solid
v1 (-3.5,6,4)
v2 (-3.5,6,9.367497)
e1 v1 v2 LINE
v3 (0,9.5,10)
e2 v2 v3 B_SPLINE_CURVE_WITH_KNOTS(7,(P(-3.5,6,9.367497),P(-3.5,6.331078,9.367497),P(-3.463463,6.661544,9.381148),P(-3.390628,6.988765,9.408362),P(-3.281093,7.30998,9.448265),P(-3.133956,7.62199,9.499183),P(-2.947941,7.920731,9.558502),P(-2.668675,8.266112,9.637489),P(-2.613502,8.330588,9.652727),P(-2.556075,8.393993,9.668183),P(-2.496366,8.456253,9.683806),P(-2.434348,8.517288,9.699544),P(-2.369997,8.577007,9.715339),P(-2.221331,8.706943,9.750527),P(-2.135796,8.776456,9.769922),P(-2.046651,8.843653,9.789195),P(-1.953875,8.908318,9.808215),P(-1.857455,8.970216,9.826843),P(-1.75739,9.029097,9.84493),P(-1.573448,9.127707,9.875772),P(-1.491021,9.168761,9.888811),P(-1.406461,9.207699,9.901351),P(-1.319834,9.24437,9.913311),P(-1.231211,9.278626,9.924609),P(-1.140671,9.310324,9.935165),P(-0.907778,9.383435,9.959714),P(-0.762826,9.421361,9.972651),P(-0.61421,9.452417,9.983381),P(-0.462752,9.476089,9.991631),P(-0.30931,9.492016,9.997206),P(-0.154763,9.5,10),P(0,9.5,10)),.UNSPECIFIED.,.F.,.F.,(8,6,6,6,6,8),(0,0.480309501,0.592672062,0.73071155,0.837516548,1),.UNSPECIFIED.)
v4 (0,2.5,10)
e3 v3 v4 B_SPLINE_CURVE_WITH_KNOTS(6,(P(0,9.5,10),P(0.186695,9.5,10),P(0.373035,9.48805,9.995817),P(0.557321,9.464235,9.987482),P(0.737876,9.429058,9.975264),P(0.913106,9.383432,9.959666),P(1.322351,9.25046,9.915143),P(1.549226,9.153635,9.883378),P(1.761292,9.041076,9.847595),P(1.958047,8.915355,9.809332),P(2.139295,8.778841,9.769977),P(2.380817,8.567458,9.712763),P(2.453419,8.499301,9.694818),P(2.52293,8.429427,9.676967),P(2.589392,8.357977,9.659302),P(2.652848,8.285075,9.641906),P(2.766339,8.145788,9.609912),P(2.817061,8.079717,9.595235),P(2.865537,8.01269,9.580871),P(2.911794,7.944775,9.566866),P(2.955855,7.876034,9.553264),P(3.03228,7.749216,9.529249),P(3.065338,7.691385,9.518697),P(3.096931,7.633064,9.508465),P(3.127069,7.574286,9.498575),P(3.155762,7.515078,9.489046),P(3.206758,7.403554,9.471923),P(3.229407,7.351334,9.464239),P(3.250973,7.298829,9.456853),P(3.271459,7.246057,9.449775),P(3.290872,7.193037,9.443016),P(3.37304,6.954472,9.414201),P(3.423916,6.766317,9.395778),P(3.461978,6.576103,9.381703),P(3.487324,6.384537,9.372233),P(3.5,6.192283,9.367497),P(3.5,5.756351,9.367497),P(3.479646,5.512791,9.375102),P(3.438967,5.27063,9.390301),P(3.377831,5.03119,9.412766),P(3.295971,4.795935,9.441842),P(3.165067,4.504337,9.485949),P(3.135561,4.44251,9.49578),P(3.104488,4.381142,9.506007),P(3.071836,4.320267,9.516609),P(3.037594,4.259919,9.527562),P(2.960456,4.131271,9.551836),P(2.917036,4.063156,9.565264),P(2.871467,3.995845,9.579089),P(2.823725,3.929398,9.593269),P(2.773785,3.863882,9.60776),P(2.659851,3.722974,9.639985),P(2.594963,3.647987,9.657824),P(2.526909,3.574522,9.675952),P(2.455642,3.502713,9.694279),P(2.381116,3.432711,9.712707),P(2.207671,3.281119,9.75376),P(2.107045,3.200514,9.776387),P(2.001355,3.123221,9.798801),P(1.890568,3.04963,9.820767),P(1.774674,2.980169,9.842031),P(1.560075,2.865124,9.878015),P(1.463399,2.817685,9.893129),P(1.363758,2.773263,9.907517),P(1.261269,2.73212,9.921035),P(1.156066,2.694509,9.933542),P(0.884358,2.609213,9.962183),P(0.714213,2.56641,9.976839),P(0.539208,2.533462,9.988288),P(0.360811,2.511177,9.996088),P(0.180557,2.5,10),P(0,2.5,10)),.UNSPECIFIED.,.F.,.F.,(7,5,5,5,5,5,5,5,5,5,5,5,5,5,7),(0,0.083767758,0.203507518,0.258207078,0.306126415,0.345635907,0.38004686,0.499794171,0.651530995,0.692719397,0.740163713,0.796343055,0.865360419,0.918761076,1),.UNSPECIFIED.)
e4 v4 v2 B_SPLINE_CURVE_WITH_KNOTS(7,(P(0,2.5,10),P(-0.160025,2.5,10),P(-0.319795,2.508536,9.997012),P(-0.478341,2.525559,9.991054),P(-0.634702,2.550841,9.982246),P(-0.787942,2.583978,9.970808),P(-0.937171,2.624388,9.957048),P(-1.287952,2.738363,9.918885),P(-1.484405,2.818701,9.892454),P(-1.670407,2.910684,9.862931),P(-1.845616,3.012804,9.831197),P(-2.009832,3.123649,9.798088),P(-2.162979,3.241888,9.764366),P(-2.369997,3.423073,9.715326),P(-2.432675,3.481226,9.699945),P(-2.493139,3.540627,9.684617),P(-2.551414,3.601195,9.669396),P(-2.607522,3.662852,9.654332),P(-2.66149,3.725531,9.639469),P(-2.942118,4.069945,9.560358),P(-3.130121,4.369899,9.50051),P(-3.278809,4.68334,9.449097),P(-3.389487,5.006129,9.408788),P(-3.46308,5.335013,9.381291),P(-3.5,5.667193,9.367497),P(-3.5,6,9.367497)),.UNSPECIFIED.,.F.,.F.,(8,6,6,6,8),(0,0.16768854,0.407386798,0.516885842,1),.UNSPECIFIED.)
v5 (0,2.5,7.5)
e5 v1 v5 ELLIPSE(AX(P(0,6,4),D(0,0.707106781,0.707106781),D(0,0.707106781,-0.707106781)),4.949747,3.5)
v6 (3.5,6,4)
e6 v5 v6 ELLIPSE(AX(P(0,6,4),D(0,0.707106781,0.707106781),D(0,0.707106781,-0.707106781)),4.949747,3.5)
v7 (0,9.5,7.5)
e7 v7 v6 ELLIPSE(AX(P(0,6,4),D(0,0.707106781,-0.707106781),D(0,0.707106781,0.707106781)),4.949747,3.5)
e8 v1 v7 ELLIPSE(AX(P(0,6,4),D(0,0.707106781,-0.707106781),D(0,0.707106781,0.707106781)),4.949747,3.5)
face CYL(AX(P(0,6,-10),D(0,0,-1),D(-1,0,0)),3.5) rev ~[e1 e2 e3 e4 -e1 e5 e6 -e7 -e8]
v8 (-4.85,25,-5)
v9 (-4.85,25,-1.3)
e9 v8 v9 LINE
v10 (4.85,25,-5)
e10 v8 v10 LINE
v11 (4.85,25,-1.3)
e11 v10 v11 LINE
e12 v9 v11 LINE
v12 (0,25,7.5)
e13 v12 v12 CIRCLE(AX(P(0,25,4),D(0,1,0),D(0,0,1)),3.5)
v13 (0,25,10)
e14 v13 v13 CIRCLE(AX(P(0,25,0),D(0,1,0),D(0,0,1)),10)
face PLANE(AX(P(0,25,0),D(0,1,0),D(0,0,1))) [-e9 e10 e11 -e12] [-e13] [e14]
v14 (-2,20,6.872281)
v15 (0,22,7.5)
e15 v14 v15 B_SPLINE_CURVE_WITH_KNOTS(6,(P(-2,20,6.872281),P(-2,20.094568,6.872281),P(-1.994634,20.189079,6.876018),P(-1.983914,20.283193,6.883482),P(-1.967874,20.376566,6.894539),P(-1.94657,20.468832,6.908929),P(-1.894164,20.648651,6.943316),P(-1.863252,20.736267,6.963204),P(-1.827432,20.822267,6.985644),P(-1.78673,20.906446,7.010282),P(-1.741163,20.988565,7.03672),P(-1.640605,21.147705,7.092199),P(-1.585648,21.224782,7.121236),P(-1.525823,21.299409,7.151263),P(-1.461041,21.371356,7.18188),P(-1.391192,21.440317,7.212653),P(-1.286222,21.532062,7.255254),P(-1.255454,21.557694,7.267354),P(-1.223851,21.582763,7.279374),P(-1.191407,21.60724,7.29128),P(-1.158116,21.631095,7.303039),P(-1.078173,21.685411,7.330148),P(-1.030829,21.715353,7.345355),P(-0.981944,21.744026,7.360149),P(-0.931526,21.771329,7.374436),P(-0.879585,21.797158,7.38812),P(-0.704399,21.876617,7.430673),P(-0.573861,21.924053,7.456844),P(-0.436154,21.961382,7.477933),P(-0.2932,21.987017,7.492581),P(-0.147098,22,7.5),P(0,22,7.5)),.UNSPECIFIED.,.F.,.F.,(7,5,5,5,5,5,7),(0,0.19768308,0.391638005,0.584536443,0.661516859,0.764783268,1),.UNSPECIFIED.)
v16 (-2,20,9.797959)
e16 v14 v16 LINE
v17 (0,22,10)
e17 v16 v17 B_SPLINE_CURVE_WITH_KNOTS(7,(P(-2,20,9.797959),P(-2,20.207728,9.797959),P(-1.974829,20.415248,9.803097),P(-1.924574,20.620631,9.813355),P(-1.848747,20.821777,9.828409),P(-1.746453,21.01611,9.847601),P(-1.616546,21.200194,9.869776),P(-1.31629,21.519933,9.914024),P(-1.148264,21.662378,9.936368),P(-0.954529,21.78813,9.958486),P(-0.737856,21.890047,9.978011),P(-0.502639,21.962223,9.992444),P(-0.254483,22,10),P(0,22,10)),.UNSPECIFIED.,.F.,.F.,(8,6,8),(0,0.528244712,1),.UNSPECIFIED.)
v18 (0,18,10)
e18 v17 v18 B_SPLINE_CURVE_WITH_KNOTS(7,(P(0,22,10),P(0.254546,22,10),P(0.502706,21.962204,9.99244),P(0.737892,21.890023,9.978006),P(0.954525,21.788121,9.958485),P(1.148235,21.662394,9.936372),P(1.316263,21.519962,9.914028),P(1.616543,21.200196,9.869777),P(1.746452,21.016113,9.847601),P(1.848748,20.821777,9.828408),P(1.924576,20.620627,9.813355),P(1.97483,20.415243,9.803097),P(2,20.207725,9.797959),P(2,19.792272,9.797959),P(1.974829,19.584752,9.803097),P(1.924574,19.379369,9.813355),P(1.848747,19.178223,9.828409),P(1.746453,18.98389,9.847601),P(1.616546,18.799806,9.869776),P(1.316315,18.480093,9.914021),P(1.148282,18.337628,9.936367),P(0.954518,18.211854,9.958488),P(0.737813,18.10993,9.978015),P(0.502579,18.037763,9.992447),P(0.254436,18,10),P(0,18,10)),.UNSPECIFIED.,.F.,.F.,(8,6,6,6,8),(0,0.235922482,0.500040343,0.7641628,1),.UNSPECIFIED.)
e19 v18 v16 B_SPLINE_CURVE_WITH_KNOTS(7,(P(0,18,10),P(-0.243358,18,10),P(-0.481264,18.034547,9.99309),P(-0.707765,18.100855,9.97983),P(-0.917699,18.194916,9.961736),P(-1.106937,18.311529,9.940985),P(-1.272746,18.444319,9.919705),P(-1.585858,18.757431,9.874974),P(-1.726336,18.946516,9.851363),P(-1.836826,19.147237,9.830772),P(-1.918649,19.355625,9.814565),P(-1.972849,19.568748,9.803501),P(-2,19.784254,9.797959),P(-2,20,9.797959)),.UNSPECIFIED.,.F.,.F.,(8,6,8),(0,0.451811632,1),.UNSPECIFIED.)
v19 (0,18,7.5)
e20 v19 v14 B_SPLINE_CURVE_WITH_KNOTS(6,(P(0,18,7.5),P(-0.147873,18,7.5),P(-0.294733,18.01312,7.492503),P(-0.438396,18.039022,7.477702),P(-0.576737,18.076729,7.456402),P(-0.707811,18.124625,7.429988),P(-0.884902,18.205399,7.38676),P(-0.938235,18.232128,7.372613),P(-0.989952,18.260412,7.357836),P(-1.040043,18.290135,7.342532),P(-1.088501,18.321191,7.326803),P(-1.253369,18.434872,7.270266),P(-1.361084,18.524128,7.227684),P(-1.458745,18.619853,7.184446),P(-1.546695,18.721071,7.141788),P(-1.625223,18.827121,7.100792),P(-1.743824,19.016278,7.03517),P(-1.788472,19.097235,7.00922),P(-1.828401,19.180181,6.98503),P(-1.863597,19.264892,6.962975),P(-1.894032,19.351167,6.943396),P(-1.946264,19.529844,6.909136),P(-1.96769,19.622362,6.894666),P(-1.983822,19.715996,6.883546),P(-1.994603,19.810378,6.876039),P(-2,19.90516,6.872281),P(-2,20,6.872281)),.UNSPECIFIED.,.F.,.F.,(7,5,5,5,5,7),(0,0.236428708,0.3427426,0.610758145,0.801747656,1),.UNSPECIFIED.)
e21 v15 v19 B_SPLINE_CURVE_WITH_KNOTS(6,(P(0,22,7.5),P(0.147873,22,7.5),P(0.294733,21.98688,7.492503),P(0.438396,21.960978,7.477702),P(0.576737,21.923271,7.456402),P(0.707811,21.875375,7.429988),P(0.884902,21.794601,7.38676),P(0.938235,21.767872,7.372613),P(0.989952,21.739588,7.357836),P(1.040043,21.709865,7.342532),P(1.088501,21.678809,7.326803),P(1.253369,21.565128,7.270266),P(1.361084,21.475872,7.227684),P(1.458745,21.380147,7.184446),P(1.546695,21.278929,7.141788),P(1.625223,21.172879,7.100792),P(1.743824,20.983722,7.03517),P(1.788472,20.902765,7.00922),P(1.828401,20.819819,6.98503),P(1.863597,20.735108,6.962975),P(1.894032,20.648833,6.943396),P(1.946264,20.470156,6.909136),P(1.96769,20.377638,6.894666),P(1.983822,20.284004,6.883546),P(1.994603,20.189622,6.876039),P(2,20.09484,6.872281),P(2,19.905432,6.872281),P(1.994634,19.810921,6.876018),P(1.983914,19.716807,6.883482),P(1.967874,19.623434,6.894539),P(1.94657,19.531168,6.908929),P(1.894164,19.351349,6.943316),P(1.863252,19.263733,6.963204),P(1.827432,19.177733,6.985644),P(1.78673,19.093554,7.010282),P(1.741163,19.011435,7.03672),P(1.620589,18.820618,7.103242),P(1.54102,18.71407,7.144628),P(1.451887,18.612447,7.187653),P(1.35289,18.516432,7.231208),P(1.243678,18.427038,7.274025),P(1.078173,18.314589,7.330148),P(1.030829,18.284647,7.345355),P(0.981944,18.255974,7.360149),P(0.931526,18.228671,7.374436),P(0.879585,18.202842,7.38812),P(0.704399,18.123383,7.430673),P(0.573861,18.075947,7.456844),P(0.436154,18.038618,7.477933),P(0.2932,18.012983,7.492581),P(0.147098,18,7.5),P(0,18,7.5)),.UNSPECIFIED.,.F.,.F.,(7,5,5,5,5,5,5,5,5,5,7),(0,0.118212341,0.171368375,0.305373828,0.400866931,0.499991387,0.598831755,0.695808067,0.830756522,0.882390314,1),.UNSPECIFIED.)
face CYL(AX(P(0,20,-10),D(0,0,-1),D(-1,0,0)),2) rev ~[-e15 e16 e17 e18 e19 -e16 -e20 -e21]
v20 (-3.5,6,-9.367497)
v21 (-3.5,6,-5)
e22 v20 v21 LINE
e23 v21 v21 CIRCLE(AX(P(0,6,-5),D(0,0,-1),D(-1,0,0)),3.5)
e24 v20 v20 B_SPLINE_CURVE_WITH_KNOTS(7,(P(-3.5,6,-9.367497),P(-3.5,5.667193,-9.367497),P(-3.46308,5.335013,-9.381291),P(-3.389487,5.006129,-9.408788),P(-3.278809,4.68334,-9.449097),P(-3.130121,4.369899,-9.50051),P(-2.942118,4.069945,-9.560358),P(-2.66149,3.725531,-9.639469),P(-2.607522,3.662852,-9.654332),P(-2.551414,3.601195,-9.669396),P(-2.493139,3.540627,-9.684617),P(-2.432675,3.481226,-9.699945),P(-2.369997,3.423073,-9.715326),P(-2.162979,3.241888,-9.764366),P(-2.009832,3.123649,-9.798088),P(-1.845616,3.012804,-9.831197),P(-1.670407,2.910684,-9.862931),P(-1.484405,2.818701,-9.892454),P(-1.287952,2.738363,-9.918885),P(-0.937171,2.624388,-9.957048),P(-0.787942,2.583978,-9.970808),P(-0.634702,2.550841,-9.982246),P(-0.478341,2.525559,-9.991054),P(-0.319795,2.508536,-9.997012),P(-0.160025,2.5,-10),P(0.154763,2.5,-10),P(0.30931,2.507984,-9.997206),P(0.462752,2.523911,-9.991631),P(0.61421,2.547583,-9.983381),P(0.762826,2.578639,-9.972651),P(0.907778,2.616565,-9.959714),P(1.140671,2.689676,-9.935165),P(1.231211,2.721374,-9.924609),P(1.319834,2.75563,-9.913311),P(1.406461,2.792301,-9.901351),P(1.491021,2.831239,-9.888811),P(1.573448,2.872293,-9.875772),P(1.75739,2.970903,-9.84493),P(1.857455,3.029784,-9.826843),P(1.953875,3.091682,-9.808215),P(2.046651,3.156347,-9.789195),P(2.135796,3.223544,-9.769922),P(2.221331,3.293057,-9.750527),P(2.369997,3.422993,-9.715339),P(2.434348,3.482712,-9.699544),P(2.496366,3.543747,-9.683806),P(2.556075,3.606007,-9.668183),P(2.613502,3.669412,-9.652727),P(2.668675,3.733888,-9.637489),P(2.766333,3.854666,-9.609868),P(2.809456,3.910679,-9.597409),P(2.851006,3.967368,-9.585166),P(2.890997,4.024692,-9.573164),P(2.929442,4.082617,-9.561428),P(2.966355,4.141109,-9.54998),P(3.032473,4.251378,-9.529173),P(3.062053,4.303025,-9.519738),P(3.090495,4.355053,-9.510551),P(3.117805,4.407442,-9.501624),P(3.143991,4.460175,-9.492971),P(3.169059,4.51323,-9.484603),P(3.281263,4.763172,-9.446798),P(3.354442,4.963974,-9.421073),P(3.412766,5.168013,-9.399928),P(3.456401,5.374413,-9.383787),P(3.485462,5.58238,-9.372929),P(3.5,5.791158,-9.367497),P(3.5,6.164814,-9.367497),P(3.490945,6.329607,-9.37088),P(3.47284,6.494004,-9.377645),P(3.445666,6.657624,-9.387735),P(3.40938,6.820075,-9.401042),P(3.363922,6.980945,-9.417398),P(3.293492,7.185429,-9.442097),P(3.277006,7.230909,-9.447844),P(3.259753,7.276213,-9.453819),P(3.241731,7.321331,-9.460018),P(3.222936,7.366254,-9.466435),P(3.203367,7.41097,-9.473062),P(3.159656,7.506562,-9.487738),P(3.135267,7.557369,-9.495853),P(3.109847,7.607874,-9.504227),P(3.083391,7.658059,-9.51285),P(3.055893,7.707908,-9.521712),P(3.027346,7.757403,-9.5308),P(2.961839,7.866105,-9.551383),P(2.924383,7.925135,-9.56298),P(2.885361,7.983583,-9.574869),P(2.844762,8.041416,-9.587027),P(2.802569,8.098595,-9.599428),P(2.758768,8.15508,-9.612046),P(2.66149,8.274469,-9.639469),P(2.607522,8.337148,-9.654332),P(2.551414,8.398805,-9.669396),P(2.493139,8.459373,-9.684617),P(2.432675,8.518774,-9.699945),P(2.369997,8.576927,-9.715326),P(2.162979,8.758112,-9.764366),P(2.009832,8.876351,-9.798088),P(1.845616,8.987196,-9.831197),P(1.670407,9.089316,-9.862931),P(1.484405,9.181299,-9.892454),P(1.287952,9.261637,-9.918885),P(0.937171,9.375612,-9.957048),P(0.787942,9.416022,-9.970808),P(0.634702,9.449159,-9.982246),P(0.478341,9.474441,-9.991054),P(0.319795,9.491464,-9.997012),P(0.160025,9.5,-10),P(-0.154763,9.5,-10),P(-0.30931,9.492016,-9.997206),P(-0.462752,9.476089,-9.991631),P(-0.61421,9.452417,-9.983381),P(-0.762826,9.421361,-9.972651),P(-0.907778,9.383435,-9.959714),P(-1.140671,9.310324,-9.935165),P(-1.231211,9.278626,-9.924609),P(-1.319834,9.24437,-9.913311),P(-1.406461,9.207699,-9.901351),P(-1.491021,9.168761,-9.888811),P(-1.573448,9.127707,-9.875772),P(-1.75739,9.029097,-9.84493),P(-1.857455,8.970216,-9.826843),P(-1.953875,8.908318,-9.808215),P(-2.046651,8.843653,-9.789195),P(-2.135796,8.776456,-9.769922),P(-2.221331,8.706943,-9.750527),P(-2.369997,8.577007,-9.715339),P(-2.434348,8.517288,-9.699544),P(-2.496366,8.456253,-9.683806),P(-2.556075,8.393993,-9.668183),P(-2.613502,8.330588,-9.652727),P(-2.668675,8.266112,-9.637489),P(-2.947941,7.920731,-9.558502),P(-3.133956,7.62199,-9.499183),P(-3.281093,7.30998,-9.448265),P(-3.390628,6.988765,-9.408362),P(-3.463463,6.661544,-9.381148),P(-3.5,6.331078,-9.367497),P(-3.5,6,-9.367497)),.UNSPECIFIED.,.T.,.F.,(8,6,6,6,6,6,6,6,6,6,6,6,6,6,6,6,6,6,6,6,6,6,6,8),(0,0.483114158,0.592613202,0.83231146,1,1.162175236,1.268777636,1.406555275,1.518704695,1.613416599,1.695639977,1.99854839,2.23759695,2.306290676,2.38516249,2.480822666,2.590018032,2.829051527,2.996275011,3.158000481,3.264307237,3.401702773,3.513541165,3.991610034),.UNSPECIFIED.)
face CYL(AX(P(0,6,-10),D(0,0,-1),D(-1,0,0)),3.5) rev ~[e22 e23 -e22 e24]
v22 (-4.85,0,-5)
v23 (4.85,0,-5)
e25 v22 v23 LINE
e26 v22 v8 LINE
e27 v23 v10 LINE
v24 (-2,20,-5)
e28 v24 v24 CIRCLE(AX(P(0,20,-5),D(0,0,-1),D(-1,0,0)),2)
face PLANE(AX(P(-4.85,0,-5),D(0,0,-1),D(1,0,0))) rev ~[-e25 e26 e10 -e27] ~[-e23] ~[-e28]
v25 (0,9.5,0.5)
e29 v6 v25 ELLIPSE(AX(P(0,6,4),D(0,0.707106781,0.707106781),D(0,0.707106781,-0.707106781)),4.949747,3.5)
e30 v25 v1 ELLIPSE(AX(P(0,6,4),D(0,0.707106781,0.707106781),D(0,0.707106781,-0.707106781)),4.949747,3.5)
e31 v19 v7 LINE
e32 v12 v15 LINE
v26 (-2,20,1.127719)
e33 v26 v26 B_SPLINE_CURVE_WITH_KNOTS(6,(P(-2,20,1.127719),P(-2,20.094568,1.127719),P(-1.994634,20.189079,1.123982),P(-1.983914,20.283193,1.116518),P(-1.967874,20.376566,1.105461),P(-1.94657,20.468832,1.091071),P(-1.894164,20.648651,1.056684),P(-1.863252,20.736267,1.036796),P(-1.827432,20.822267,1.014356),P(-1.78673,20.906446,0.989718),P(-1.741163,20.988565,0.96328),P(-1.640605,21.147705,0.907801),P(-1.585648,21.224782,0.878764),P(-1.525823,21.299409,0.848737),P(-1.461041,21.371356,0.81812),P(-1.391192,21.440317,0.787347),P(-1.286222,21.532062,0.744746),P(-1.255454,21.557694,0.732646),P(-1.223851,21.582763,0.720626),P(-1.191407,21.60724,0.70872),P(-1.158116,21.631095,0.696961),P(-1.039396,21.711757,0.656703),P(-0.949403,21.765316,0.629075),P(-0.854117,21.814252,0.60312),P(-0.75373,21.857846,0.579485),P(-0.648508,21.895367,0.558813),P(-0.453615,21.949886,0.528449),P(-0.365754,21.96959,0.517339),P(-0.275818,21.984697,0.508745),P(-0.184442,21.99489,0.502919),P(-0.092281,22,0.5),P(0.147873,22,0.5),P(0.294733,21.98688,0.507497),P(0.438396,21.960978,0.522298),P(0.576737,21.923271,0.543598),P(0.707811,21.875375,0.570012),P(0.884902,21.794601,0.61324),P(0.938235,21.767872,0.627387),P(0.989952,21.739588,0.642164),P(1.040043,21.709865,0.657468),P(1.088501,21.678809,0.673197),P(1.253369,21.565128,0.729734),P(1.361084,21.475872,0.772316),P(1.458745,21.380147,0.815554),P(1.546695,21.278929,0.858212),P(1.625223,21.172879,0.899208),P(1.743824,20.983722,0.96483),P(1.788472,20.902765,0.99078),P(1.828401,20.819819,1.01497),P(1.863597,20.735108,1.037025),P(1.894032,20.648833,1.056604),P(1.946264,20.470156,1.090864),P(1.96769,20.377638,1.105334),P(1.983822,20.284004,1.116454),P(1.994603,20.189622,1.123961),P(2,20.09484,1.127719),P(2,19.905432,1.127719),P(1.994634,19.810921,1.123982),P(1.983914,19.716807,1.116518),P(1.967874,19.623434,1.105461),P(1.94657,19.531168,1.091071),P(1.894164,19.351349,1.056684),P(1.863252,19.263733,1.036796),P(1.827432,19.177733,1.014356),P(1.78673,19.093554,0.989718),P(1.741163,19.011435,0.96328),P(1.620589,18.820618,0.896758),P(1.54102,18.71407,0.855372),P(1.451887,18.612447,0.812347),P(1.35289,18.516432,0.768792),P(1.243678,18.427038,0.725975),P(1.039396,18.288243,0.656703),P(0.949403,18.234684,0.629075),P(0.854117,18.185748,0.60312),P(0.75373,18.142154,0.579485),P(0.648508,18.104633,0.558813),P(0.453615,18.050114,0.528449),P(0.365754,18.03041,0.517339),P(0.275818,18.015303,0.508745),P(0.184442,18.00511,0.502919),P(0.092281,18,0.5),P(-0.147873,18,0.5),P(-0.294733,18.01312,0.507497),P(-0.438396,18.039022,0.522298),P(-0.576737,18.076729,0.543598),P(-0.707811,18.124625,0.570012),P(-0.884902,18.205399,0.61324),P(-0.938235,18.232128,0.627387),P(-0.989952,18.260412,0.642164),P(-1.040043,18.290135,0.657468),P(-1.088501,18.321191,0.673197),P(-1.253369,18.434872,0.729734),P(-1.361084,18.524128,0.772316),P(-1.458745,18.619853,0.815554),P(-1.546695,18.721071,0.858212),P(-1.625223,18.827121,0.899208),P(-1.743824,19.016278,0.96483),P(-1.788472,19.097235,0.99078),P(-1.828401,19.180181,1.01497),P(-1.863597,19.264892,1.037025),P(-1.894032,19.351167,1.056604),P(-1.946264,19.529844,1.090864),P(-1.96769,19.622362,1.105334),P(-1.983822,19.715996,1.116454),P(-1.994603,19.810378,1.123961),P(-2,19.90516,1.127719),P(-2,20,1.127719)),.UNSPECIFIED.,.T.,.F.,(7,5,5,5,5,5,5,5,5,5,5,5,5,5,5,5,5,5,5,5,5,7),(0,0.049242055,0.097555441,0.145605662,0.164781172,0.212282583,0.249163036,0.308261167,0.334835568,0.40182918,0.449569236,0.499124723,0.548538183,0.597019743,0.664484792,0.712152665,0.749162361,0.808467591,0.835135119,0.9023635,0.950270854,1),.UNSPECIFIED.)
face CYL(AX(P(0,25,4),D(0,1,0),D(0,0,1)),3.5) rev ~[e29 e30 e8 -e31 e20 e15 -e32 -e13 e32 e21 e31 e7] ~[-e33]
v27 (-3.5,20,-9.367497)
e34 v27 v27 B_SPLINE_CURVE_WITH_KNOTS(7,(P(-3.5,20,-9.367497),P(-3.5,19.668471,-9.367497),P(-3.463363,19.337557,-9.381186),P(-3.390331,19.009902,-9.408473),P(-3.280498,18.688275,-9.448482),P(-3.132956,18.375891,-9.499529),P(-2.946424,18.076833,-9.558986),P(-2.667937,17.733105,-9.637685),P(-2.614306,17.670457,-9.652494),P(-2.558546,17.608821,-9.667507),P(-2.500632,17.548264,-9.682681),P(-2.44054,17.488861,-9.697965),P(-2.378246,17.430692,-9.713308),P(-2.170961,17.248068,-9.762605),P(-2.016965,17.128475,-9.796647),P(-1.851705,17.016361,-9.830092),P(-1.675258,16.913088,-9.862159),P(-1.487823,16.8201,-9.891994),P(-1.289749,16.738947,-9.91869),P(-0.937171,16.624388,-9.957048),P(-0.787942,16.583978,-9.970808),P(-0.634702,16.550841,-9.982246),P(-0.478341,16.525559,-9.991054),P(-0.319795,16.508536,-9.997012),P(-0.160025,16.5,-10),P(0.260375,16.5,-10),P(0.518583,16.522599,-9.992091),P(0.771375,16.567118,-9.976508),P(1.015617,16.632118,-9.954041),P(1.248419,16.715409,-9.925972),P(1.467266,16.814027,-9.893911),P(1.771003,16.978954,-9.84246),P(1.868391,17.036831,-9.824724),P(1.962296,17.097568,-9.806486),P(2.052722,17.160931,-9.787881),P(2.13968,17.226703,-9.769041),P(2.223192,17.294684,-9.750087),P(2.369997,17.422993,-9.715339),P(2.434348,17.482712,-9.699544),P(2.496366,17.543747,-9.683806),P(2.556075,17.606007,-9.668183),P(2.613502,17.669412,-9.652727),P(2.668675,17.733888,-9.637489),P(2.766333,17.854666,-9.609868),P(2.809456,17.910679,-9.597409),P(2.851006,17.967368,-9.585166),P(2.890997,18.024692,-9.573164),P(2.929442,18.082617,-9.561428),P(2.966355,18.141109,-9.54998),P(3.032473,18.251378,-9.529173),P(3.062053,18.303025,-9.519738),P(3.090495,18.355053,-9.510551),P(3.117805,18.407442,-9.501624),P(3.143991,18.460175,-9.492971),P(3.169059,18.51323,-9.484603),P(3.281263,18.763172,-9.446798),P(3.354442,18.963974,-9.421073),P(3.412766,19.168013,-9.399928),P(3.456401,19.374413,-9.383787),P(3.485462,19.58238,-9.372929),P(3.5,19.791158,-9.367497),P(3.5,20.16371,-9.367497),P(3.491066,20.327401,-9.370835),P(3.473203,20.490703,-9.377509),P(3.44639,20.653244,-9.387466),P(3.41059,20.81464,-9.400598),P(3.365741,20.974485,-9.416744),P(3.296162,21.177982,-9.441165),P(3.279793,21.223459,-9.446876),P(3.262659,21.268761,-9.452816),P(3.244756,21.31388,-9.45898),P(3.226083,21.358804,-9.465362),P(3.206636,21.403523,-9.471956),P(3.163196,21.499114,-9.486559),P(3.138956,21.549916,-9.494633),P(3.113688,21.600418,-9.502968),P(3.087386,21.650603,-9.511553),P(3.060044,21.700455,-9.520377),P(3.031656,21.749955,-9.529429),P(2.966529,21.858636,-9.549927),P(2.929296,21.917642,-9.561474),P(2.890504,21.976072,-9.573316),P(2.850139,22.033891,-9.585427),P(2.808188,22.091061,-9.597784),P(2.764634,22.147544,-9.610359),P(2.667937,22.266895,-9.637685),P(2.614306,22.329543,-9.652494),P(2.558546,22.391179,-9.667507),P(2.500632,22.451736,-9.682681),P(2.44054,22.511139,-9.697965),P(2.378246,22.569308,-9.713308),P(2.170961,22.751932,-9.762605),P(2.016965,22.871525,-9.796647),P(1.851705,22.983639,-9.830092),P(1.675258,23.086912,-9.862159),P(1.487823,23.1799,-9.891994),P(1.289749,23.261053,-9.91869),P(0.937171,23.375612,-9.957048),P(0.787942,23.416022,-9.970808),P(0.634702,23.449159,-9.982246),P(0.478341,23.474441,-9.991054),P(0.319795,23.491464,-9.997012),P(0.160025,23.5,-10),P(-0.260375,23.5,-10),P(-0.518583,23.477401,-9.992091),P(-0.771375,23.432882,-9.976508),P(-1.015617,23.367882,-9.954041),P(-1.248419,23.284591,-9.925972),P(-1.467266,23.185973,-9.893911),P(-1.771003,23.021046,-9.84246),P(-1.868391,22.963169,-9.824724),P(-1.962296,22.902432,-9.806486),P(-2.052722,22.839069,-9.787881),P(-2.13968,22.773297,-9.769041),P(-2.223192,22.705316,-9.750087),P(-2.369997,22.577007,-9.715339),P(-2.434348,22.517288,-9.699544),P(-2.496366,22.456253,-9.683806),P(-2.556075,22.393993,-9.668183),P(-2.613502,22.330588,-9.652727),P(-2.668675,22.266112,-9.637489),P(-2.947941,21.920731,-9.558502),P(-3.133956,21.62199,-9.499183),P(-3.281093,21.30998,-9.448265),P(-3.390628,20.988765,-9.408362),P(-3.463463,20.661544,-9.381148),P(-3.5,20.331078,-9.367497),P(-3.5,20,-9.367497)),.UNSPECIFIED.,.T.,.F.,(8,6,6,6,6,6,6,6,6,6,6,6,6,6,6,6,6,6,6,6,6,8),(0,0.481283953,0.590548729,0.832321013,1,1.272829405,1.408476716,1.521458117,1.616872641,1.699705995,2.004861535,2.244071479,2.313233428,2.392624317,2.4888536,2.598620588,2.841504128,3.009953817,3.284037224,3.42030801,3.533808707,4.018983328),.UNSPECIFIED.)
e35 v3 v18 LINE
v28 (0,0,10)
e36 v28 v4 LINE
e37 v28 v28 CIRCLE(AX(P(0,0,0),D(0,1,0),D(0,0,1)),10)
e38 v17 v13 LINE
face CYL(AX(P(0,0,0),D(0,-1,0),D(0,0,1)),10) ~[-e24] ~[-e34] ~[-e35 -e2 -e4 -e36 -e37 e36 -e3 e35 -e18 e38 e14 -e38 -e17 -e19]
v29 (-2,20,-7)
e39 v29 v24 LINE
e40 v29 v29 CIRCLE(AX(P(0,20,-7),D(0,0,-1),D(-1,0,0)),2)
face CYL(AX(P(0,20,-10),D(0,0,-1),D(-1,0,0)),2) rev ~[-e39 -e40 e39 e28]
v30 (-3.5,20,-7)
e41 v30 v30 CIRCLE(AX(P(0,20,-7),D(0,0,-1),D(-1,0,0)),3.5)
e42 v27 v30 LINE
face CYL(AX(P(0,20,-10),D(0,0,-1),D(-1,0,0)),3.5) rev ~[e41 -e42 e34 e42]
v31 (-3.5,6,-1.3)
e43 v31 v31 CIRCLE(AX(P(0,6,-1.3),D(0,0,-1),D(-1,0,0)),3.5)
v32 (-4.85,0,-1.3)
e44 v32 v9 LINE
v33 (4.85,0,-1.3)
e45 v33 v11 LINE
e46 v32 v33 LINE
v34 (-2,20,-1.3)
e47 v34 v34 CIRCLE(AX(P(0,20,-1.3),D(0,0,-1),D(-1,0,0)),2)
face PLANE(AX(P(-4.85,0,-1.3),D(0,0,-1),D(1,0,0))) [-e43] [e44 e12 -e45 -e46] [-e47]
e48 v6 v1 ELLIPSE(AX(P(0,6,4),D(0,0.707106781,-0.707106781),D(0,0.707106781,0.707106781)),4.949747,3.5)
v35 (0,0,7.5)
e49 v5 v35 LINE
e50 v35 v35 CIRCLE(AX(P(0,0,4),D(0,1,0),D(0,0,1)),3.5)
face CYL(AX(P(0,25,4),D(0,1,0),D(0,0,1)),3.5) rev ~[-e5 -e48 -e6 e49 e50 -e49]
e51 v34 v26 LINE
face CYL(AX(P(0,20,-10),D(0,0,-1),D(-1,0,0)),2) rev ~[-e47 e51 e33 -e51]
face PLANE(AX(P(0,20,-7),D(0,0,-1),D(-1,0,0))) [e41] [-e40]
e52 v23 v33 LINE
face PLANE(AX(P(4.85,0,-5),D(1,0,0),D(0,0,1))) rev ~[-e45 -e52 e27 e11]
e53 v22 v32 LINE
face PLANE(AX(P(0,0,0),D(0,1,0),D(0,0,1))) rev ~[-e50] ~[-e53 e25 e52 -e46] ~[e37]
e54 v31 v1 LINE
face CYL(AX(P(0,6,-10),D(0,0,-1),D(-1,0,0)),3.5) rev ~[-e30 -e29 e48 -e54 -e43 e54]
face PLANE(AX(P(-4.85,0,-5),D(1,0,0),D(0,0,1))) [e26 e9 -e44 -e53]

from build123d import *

# Parameters (mm, degrees)
CROQUIS1_R              = 10
SALIENTE_EXTRUIR1_DEPTH = 25
CORTAR_EXTRUIR1_REACH   = 30.723
CROQUIS3_R              = 3.5
CROQUIS5_R              = 3.5
CROQUIS5_R_2            = 2
CORTAR_EXTRUIR3_DEPTH   = 34.541019662
CORTAR_EXTRUIR4_REACH   = 30.723
CROQUIS6_W              = 9.7
CROQUIS6_H              = 3.7
CROQUIS7_R              = 3.5
CORTAR_EXTRUIR5_DEPTH   = 3


with BuildPart() as part:
    # Croquis1 → Saliente-Extruir1 (new body)
    with BuildSketch(Plane(origin=(0, 0, 0), x_dir=(1, 0, 0), z_dir=(0, 1, 0))):
        with Locations(Location((0, 0, 0), (0, 0, 270))):
            Circle(CROQUIS1_R)
    extrude(amount=SALIENTE_EXTRUIR1_DEPTH)

    # Croquis3 → Cortar-Extruir1 (cut, up to next)
    with BuildSketch(Plane(origin=(0, 25, 0), x_dir=(1, 0, 0), z_dir=(0, 1, 0)), mode=Mode.PRIVATE) as cortar_extruir1_sk1:
        with Locations(Location((0, -4, 0), (0, 0, 270))):
            Circle(CROQUIS3_R)
    cortar_extruir1_tool1 = extrude(cortar_extruir1_sk1.sketch, amount=-CORTAR_EXTRUIR1_REACH, mode=Mode.PRIVATE) & part.part
    add(cortar_extruir1_tool1.solids().sort_by_distance((0, 25, 4))[0], mode=Mode.SUBTRACT)

    # Croquis5 → Cortar-Extruir3 (cut, through all)
    with BuildSketch(Plane(origin=(0, 0, -10), x_dir=(-1, 0, 0), z_dir=(0, 0, -1))):
        with Locations((0, 6)):
            Circle(CROQUIS5_R)
        with Locations((0, 20)):
            Circle(CROQUIS5_R_2)
    extrude(amount=-CORTAR_EXTRUIR3_DEPTH, mode=Mode.SUBTRACT)

    # Croquis6 → Cortar-Extruir4 (cut, up to next)
    with BuildSketch(Plane.XZ, mode=Mode.PRIVATE) as cortar_extruir4_sk1:
        with Locations((0, -3.15)):
            Rectangle(CROQUIS6_W, CROQUIS6_H)
    cortar_extruir4_tool1 = extrude(cortar_extruir4_sk1.sketch, amount=-CORTAR_EXTRUIR4_REACH, mode=Mode.PRIVATE) & part.part
    add(cortar_extruir4_tool1.solids().sort_by_distance((0, 0, -3.15))[0], mode=Mode.SUBTRACT)

    # Croquis7 → Cortar-Extruir5 (cut)
    with BuildSketch(Plane(origin=(0, 0, -10), x_dir=(-1, 0, 0), z_dir=(0, 0, -1))):
        with Locations((0, 20)):
            Circle(CROQUIS7_R)
    extrude(amount=-CORTAR_EXTRUIR5_DEPTH, mode=Mode.SUBTRACT)


solid = part.part
